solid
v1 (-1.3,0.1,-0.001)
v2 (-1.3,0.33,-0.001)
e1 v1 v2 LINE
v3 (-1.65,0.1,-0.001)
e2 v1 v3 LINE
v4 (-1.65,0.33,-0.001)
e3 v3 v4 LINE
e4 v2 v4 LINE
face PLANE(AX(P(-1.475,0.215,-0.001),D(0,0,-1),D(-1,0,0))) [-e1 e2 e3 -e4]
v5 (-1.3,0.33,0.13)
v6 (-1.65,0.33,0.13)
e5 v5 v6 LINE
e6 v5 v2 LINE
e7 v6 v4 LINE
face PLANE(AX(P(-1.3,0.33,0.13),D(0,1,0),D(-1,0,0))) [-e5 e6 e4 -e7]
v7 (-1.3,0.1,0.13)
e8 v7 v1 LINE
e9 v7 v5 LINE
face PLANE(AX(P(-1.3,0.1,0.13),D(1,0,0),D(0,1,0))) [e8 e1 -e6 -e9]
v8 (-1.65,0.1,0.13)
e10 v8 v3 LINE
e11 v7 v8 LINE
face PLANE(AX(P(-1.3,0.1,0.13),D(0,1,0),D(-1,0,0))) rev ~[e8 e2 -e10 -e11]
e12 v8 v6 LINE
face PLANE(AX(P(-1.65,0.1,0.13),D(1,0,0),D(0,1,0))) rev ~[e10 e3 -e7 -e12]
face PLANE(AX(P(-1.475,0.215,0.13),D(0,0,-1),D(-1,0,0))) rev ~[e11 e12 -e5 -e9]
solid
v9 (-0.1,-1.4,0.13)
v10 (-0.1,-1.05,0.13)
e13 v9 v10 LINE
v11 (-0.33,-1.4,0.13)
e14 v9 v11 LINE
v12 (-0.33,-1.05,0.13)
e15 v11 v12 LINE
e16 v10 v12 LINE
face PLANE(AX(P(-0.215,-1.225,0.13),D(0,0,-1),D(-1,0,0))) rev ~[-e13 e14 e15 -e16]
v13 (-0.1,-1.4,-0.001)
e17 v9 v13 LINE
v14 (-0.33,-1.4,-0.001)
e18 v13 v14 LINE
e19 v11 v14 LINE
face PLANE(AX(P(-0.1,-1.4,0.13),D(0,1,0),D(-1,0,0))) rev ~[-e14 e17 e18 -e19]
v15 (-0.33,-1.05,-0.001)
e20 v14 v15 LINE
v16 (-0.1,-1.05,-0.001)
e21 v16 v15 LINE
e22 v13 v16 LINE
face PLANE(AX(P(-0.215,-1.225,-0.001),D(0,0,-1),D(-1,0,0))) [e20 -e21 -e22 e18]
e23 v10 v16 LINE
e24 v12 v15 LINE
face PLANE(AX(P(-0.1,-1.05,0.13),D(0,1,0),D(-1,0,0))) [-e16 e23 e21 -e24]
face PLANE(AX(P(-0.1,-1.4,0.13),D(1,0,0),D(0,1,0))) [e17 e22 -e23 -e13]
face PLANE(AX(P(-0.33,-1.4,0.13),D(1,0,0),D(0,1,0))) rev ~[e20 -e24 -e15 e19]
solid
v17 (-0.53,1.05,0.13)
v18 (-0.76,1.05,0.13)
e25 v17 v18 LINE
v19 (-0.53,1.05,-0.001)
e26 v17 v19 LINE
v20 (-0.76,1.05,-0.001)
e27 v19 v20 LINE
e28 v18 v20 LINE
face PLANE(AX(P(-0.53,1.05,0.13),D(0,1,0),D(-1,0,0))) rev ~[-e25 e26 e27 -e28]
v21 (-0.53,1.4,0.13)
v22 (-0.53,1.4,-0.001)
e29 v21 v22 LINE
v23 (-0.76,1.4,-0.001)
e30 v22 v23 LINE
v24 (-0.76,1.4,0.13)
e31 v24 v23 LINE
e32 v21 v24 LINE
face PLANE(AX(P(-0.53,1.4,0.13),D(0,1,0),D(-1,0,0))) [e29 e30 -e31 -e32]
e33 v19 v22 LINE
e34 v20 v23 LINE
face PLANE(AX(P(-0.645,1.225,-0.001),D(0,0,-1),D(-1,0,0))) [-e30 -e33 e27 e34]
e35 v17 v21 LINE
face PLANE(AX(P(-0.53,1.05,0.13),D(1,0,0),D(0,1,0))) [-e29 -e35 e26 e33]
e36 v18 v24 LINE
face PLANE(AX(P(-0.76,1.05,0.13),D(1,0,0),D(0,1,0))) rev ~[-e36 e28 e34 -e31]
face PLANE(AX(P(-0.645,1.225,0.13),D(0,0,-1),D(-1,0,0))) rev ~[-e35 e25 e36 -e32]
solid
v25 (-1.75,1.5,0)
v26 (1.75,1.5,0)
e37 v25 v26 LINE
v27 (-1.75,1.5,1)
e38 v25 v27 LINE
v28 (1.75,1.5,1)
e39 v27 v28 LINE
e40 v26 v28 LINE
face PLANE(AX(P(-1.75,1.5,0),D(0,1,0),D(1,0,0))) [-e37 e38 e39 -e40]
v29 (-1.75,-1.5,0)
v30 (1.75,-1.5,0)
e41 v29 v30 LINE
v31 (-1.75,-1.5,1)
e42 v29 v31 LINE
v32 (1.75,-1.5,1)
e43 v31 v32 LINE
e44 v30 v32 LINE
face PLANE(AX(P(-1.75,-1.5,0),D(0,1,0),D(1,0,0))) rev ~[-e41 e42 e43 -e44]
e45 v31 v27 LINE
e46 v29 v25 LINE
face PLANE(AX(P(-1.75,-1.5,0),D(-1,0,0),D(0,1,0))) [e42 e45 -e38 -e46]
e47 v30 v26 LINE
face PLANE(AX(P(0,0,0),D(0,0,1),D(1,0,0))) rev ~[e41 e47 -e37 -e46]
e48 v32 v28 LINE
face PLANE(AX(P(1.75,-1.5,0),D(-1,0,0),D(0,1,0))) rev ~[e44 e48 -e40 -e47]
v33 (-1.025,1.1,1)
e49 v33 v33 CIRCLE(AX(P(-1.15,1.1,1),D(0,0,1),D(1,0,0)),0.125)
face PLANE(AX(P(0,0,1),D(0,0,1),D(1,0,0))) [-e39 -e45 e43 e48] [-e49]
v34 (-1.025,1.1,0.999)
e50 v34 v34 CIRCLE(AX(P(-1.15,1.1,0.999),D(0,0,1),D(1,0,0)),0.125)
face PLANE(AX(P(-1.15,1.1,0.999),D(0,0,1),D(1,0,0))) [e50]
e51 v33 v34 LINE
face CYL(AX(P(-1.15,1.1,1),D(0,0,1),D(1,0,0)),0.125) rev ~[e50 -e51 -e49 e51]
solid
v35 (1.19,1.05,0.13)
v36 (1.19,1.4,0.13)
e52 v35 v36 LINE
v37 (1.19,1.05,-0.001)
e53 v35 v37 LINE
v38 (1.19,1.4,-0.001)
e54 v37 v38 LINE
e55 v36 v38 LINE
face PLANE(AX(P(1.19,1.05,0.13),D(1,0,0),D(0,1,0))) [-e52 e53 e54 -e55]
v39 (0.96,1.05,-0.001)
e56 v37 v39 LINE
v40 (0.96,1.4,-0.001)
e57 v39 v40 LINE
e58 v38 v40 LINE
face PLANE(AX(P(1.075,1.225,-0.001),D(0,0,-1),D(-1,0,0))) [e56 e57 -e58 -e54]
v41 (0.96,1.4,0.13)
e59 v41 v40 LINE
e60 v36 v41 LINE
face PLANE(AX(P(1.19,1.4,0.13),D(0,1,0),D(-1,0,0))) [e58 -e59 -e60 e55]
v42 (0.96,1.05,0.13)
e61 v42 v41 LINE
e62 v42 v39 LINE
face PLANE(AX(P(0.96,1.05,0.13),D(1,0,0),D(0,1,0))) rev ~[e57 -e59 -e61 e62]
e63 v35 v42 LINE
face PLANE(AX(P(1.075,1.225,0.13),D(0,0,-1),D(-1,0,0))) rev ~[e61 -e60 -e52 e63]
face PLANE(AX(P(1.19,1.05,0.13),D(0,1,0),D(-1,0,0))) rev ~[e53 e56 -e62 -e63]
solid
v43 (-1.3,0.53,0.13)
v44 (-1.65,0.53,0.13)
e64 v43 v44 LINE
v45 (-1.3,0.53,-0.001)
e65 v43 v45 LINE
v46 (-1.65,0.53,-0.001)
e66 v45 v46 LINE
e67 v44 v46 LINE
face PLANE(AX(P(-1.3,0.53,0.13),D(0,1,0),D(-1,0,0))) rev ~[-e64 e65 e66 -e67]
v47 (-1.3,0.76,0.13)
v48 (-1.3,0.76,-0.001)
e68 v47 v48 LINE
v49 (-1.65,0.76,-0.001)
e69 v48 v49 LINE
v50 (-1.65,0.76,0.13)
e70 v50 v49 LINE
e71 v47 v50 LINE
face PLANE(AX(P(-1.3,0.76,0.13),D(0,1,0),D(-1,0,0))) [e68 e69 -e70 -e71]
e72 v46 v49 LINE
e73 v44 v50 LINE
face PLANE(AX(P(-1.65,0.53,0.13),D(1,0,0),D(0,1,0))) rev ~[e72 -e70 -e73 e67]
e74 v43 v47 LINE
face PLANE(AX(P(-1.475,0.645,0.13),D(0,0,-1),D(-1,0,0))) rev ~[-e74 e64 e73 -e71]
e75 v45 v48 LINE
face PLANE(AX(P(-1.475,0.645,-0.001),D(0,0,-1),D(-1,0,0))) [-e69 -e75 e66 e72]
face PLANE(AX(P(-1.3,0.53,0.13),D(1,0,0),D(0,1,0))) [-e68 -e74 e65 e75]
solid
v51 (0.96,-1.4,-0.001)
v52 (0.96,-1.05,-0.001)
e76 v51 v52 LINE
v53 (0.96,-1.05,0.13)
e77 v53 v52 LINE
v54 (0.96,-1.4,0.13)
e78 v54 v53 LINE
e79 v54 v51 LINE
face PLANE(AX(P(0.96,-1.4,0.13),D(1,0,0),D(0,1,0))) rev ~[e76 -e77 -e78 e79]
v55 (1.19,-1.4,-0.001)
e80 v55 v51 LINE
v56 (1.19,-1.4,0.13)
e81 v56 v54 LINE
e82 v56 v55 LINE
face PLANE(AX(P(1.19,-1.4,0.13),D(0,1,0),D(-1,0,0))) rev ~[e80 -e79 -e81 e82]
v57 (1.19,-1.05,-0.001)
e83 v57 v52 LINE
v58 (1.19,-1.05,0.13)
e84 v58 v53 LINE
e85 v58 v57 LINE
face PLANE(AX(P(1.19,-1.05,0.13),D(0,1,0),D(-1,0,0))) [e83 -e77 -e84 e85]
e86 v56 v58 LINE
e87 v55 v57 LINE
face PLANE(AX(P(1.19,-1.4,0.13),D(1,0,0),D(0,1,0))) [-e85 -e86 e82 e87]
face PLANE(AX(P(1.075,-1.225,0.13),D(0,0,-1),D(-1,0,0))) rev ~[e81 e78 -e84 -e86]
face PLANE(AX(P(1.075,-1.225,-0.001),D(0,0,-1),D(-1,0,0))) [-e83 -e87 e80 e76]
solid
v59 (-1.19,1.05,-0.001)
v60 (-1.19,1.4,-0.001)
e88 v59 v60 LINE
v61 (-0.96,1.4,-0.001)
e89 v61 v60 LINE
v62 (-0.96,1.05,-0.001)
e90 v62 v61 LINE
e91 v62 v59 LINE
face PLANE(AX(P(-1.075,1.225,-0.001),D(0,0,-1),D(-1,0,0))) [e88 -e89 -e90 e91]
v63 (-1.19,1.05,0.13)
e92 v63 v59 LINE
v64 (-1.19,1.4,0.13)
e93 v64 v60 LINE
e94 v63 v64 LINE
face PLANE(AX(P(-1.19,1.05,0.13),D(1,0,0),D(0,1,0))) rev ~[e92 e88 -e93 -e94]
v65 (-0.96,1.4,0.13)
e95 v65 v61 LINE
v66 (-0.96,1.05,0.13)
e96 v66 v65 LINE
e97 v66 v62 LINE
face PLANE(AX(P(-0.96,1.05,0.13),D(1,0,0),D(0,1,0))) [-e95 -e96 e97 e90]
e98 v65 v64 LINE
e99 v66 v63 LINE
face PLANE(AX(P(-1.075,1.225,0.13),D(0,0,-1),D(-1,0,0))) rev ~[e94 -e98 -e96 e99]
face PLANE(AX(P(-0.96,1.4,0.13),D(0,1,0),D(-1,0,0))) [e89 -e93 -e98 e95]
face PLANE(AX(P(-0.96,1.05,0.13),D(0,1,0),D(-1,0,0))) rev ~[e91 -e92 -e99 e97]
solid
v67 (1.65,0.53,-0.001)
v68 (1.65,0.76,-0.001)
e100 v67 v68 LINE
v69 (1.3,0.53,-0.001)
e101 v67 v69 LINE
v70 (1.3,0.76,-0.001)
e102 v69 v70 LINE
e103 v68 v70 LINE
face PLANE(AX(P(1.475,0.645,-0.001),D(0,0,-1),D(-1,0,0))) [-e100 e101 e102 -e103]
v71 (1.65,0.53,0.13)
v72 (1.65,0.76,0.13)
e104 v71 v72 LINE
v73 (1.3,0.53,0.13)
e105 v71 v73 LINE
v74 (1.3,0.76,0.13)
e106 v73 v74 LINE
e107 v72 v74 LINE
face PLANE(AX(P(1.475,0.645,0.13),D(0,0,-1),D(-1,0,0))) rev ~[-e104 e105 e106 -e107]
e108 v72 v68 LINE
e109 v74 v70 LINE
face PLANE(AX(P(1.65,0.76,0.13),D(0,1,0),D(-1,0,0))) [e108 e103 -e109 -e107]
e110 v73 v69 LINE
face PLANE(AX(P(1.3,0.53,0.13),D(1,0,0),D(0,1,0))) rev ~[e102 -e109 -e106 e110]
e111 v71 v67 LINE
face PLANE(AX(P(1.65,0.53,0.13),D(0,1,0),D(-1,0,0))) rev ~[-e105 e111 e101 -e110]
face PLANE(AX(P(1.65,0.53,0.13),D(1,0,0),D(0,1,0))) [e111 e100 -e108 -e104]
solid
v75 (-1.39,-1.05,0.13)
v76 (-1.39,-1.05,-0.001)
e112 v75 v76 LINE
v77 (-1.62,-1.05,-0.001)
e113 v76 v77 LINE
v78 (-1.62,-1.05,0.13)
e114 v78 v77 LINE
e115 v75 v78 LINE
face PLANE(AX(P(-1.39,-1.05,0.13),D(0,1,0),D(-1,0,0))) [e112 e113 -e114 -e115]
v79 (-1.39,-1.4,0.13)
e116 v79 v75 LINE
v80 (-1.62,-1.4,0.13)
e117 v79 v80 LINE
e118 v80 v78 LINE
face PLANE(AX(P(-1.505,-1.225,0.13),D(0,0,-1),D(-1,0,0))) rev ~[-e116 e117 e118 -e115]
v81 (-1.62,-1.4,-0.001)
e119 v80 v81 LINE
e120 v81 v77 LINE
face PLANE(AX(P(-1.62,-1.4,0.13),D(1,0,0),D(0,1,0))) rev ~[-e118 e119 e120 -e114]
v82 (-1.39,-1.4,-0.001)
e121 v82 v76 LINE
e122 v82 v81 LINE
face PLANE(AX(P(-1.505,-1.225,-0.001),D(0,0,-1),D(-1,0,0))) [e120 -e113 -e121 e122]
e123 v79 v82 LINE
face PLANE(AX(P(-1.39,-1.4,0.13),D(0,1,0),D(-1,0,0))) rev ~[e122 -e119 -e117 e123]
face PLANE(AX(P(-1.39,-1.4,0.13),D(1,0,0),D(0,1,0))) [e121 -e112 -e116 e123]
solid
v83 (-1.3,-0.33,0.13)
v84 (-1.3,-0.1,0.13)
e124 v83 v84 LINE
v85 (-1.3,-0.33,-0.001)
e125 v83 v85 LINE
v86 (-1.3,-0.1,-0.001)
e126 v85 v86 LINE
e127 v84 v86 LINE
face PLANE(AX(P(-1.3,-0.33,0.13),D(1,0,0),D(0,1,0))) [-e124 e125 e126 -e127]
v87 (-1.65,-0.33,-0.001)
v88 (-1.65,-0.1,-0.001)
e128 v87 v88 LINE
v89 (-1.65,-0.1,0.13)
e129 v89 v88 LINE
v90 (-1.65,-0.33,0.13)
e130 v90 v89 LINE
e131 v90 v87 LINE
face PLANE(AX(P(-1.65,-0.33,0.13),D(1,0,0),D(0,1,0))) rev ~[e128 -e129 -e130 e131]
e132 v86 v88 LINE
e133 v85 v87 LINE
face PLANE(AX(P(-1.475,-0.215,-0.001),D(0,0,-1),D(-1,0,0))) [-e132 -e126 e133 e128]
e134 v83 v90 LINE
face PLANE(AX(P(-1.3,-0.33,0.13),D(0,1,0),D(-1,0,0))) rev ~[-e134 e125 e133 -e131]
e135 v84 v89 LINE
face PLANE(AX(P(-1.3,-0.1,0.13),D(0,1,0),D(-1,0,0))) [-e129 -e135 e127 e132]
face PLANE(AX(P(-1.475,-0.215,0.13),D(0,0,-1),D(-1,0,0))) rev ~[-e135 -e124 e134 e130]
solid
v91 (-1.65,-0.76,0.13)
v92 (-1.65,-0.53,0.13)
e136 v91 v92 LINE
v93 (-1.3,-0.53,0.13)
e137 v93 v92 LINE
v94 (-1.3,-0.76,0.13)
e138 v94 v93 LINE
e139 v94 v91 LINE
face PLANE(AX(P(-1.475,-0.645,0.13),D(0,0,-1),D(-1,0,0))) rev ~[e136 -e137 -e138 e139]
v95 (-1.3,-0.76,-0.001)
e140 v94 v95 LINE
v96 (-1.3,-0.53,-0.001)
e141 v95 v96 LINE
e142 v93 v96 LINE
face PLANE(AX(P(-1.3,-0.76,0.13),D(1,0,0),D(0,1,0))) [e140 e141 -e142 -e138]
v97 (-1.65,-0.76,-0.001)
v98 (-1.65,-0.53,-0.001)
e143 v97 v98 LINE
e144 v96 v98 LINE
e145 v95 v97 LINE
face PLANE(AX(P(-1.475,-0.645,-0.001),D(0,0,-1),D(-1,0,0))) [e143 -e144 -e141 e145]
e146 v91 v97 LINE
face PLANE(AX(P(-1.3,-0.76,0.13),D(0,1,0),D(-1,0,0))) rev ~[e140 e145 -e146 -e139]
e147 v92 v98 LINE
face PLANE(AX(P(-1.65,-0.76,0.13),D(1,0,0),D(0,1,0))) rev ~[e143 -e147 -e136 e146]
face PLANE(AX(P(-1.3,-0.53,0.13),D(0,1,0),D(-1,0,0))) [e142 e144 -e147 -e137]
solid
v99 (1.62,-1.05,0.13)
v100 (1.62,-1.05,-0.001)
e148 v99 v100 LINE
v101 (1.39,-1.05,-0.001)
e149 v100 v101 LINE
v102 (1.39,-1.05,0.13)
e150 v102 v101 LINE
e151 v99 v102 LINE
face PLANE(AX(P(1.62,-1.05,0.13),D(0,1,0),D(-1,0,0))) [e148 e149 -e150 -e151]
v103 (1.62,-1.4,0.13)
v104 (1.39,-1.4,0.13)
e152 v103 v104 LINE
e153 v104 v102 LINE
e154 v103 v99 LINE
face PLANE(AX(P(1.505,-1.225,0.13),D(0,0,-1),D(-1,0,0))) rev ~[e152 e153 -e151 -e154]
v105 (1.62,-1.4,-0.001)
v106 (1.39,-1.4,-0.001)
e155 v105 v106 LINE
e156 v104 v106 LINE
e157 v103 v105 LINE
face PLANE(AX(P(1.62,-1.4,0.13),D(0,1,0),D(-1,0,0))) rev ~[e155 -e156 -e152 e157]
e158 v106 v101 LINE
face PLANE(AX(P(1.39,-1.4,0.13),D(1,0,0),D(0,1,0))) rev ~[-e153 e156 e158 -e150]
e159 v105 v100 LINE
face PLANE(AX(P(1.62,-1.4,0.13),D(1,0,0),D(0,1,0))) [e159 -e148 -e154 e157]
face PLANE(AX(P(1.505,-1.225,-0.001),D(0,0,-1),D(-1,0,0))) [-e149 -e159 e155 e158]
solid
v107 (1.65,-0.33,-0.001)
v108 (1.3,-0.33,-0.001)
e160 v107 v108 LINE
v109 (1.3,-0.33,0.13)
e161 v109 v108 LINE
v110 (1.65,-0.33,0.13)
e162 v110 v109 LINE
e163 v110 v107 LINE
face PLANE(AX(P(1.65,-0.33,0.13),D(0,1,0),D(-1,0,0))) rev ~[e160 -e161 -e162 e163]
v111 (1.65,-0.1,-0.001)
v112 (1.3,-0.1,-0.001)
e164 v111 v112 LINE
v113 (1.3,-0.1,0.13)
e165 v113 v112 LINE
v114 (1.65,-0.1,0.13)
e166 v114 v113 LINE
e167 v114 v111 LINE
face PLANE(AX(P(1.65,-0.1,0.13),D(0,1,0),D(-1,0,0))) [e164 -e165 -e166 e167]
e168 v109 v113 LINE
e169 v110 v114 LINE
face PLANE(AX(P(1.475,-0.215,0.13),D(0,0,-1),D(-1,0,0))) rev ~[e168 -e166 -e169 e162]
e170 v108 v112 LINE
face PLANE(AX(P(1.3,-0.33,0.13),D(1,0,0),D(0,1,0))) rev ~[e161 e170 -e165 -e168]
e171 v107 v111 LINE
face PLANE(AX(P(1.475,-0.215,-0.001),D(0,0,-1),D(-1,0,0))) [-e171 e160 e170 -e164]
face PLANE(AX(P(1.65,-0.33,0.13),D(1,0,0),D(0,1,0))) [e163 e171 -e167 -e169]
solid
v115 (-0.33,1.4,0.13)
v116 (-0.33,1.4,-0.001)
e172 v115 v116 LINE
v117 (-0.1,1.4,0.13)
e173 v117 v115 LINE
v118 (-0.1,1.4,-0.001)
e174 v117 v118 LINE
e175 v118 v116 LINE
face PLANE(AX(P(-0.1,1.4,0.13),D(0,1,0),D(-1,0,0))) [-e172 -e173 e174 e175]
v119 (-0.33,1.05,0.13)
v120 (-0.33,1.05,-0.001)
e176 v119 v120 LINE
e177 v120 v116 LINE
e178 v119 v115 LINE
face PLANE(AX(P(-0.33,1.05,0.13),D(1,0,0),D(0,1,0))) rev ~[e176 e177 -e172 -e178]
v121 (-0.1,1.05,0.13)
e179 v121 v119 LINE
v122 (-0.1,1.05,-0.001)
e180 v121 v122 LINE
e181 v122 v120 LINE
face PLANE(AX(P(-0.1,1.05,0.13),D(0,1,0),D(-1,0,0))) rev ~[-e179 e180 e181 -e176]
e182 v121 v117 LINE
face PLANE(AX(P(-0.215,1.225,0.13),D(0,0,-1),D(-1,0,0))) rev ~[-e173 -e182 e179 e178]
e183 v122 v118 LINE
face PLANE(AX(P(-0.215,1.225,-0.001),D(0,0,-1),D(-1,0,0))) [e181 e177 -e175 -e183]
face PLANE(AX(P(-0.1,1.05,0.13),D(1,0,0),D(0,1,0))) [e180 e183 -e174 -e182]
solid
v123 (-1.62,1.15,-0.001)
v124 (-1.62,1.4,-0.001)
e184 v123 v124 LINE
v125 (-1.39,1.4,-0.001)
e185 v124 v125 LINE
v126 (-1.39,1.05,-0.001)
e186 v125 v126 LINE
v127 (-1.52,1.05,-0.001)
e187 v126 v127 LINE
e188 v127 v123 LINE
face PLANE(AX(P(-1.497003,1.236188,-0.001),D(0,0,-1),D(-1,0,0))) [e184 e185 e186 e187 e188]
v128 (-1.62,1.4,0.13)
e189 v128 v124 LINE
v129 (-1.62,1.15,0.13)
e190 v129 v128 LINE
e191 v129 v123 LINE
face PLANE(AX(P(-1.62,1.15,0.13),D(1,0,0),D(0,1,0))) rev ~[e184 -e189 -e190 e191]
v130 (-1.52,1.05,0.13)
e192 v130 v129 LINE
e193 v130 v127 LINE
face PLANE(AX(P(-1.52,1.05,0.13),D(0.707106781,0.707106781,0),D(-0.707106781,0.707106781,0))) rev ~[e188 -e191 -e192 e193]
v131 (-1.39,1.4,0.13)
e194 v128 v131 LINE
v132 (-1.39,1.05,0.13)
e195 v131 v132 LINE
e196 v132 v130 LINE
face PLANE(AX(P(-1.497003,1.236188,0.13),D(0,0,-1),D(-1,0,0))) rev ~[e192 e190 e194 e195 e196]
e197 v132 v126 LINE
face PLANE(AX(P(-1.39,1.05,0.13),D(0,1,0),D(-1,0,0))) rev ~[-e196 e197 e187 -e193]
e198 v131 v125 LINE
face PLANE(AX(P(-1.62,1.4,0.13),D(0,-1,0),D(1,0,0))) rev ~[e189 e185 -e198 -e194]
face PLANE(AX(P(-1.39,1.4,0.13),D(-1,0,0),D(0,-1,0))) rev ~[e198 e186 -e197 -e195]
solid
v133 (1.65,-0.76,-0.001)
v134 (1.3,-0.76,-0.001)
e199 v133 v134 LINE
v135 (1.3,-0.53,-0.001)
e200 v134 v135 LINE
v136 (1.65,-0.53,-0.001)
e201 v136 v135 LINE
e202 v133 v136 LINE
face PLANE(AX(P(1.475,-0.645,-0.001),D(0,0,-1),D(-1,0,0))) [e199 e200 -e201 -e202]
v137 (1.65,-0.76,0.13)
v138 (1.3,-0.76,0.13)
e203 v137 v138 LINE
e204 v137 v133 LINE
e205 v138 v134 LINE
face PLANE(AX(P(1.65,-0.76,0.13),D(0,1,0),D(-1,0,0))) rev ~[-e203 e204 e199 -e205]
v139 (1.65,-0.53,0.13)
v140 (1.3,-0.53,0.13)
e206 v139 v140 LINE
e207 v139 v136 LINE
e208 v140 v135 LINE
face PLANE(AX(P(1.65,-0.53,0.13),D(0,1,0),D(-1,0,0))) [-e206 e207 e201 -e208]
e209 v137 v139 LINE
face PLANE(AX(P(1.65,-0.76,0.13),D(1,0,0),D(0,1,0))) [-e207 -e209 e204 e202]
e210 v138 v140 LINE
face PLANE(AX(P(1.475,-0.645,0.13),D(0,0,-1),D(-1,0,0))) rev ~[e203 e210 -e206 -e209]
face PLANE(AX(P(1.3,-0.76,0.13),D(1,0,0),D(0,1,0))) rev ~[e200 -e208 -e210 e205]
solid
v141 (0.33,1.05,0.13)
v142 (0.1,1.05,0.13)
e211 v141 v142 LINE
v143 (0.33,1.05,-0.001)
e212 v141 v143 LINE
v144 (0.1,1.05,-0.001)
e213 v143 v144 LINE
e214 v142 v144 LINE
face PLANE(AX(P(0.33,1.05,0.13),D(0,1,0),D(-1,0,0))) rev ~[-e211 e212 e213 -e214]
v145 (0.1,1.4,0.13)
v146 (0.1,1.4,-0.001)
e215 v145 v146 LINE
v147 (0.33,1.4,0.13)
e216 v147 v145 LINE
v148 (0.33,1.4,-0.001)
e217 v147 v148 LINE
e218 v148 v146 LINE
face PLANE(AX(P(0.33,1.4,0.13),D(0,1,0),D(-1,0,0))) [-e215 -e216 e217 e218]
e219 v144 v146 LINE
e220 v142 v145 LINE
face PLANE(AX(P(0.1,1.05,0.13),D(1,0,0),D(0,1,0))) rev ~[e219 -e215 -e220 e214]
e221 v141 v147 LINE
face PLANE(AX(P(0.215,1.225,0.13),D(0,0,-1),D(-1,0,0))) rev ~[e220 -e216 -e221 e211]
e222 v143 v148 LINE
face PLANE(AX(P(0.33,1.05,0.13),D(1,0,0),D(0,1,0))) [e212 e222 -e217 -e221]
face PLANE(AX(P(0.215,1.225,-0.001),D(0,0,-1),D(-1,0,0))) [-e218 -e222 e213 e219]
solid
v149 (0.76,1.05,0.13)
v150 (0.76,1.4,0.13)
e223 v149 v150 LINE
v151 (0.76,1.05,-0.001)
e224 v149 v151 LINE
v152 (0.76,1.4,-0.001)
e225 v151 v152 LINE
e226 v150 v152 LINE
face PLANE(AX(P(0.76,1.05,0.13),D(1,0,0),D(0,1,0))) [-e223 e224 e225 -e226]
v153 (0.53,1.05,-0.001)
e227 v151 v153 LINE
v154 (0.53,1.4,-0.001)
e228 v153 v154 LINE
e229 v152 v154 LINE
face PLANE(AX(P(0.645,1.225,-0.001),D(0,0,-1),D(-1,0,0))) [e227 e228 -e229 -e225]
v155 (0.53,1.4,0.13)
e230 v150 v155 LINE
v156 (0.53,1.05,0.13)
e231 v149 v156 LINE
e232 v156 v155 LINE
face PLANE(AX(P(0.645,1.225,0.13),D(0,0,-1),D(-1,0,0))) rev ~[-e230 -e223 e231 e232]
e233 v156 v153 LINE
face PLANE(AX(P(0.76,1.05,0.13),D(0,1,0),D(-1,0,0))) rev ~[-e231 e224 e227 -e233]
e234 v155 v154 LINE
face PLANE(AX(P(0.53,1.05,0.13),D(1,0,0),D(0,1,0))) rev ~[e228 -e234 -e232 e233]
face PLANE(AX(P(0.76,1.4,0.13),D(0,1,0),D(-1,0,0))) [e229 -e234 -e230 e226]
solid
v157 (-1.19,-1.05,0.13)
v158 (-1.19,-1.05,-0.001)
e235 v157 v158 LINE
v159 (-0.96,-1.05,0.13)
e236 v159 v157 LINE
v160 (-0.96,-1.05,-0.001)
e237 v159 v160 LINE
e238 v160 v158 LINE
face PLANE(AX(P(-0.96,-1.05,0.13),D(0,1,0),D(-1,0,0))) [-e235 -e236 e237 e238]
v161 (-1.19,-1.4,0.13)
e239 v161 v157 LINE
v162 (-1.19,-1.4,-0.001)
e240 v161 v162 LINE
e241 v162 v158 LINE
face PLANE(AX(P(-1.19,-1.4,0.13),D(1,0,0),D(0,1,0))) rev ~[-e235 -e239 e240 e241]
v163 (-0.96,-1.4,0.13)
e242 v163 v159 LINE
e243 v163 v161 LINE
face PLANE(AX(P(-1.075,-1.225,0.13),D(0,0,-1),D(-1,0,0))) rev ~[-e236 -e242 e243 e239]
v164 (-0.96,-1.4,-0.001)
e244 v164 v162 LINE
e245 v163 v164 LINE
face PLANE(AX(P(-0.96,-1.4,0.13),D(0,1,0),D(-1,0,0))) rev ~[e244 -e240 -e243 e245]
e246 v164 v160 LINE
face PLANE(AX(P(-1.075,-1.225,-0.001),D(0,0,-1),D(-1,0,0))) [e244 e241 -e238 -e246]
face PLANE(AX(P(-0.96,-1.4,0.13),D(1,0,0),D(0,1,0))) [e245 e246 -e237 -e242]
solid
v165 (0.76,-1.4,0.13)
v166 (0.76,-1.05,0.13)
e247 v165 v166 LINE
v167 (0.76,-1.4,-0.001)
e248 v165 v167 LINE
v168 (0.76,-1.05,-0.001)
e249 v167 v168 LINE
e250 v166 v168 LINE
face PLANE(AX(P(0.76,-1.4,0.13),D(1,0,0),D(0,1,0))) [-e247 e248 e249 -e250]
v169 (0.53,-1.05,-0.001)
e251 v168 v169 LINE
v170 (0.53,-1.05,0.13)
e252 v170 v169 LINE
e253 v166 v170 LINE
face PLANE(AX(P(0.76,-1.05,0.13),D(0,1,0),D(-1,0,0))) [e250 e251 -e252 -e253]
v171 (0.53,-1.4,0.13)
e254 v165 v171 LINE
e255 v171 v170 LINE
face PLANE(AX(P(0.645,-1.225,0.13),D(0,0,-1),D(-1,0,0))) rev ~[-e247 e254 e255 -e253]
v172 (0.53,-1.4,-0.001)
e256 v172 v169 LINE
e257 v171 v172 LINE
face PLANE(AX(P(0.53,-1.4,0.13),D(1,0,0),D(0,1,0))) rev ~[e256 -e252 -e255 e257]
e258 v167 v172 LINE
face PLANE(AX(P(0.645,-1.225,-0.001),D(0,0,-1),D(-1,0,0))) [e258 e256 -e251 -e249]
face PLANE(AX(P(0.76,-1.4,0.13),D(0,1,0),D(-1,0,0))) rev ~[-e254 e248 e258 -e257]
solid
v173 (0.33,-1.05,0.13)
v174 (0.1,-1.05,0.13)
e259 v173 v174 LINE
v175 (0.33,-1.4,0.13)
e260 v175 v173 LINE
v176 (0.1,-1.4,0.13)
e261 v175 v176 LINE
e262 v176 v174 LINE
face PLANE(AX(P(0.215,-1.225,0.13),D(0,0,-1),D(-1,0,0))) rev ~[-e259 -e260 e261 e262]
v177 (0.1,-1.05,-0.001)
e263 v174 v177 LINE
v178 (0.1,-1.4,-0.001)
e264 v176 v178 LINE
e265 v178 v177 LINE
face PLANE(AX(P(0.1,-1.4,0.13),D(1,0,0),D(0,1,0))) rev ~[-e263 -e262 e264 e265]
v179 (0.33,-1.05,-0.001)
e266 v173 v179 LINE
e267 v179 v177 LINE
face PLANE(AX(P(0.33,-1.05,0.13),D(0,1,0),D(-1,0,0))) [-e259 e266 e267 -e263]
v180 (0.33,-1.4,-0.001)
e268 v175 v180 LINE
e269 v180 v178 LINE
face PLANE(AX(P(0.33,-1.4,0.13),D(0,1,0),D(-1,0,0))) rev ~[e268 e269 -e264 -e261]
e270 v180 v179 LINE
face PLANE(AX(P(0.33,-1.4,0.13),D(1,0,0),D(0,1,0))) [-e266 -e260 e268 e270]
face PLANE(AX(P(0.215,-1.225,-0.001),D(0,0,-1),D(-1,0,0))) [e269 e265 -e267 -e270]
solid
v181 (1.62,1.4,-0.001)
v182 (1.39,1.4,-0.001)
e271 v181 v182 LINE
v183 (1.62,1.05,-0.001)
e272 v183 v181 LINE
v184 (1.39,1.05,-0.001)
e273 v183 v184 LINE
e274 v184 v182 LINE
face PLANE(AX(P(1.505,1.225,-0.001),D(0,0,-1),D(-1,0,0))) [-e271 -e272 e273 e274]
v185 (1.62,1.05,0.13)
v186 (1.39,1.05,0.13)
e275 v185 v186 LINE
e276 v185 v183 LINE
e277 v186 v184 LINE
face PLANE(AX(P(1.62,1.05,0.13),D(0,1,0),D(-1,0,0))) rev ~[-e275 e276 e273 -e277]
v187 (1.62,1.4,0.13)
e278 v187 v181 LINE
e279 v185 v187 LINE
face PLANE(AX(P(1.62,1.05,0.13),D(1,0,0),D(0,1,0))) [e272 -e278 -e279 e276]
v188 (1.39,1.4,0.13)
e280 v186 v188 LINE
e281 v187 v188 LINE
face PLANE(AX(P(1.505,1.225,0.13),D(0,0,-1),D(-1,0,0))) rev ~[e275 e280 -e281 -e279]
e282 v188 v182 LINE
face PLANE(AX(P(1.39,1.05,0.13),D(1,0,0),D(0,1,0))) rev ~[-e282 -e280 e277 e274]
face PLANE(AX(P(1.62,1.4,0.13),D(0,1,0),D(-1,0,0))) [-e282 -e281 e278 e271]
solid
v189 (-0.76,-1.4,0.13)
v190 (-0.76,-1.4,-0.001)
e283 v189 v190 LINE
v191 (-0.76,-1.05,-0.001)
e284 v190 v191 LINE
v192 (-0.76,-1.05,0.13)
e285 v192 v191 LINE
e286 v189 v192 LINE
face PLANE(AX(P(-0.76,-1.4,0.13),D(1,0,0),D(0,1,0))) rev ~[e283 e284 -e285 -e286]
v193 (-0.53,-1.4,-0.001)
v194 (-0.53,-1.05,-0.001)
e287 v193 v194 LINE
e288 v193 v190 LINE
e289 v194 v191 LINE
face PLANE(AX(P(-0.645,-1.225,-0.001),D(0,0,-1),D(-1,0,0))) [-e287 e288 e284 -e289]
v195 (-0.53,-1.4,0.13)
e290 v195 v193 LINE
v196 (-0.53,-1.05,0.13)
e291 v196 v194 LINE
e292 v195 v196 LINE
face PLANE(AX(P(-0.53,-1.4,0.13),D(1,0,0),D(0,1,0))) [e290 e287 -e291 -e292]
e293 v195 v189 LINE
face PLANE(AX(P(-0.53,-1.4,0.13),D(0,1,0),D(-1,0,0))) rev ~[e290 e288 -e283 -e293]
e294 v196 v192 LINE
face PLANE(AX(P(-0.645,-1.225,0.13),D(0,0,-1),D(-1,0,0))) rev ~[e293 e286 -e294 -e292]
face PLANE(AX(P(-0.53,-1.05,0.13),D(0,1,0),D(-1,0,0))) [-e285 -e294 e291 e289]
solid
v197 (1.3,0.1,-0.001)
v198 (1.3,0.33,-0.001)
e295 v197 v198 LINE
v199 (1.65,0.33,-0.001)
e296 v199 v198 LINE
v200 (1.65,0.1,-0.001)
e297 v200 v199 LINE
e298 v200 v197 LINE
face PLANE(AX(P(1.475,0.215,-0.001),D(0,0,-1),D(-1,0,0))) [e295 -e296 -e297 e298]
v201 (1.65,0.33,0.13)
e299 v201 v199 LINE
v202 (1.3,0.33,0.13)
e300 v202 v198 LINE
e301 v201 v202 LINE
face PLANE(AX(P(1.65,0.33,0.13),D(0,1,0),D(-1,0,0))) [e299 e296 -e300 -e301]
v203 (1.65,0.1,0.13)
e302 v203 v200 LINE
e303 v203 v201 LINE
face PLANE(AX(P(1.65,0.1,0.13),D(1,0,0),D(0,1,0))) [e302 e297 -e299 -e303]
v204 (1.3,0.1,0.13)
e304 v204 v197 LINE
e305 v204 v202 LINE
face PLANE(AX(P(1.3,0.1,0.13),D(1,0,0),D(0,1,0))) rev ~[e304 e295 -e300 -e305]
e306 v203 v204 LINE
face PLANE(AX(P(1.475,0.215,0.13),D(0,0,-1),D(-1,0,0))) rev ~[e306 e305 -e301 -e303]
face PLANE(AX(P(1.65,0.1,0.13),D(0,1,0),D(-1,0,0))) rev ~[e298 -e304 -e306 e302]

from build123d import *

# Parameters (mm, degrees)
SKETCH1_W                   = 3.5
SKETCH1_H                   = 3
BOSS_EXTRUDE1_DEPTH         = 1
BOSS_EXTRUDE2_DEPTH         = 0.001
BOSS_EXTRUDE2_DEPTH_BACK    = 0.13
SKETCH2_W                   = 0.23
SKETCH2_H                   = 0.35
BOSS_EXTRUDE2_2_DEPTH       = 0.001
BOSS_EXTRUDE2_2_DEPTH_BACK  = 0.13
BOSS_EXTRUDE2_3_DEPTH       = 0.001
BOSS_EXTRUDE2_3_DEPTH_BACK  = 0.13
BOSS_EXTRUDE2_4_DEPTH       = 0.001
BOSS_EXTRUDE2_4_DEPTH_BACK  = 0.13
BOSS_EXTRUDE2_5_DEPTH       = 0.001
BOSS_EXTRUDE2_5_DEPTH_BACK  = 0.13
BOSS_EXTRUDE2_6_DEPTH       = 0.001
BOSS_EXTRUDE2_6_DEPTH_BACK  = 0.13
BOSS_EXTRUDE2_7_DEPTH       = 0.001
BOSS_EXTRUDE2_7_DEPTH_BACK  = 0.13
BOSS_EXTRUDE2_8_DEPTH       = 0.001
BOSS_EXTRUDE2_8_DEPTH_BACK  = 0.13
BOSS_EXTRUDE2_9_DEPTH       = 0.001
BOSS_EXTRUDE2_9_DEPTH_BACK  = 0.13
BOSS_EXTRUDE2_10_DEPTH      = 0.001
BOSS_EXTRUDE2_10_DEPTH_BACK = 0.13
BOSS_EXTRUDE2_11_DEPTH      = 0.001
BOSS_EXTRUDE2_11_DEPTH_BACK = 0.13
BOSS_EXTRUDE2_12_DEPTH      = 0.001
BOSS_EXTRUDE2_12_DEPTH_BACK = 0.13
BOSS_EXTRUDE2_13_DEPTH      = 0.001
BOSS_EXTRUDE2_13_DEPTH_BACK = 0.13
BOSS_EXTRUDE2_14_DEPTH      = 0.001
BOSS_EXTRUDE2_14_DEPTH_BACK = 0.13
BOSS_EXTRUDE2_15_DEPTH      = 0.001
BOSS_EXTRUDE2_15_DEPTH_BACK = 0.13
BOSS_EXTRUDE2_16_DEPTH      = 0.001
BOSS_EXTRUDE2_16_DEPTH_BACK = 0.13
BOSS_EXTRUDE2_17_DEPTH      = 0.001
BOSS_EXTRUDE2_17_DEPTH_BACK = 0.13
SKETCH2_W_2                 = 0.35
SKETCH2_H_2                 = 0.23
BOSS_EXTRUDE2_18_DEPTH      = 0.001
BOSS_EXTRUDE2_18_DEPTH_BACK = 0.13
BOSS_EXTRUDE2_19_DEPTH      = 0.001
BOSS_EXTRUDE2_19_DEPTH_BACK = 0.13
BOSS_EXTRUDE2_20_DEPTH      = 0.001
BOSS_EXTRUDE2_20_DEPTH_BACK = 0.13
BOSS_EXTRUDE2_21_DEPTH      = 0.001
BOSS_EXTRUDE2_21_DEPTH_BACK = 0.13
BOSS_EXTRUDE2_22_DEPTH      = 0.001
BOSS_EXTRUDE2_22_DEPTH_BACK = 0.13
BOSS_EXTRUDE2_23_DEPTH      = 0.001
BOSS_EXTRUDE2_23_DEPTH_BACK = 0.13
BOSS_EXTRUDE2_24_DEPTH      = 0.001
BOSS_EXTRUDE2_24_DEPTH_BACK = 0.13
SKETCH3_R                   = 0.125
CUT_EXTRUDE1_DEPTH          = 0.001


with BuildPart() as part:
    # Sketch1 → Boss-Extrude1 (new body)
    with BuildSketch(Plane.XY):
        Rectangle(SKETCH1_W, SKETCH1_H)
    extrude(amount=BOSS_EXTRUDE1_DEPTH)

    # Sketch3 → Cut-Extrude1 (cut)
    with BuildSketch(Plane.XY.offset(1)):
        with Locations((-1.15, 1.1)):
            Circle(SKETCH3_R)
    extrude(amount=-CUT_EXTRUDE1_DEPTH, mode=Mode.SUBTRACT)


with BuildPart() as body_2:
    # Sketch2 → Boss-Extrude2 (new, two sides: drawn at the far end of the back side and taken through both)
    with BuildSketch(Plane(origin=(0, 0, 0), x_dir=(-1, 0, 0), z_dir=(0, 0, -1)).offset(-BOSS_EXTRUDE2_DEPTH_BACK)):
        with Locations((-0.215, 1.225)):
            Rectangle(SKETCH2_W, SKETCH2_H)
    extrude(amount=BOSS_EXTRUDE2_DEPTH + BOSS_EXTRUDE2_DEPTH_BACK)


with BuildPart() as body_3:
    # Sketch2 → Boss-Extrude2 2 (new, two sides: drawn at the far end of the back side and taken through both)
    with BuildSketch(Plane(origin=(0, 0, 0), x_dir=(-1, 0, 0), z_dir=(0, 0, -1)).offset(-BOSS_EXTRUDE2_2_DEPTH_BACK)):
        with Locations((-0.645, 1.225)):
            Rectangle(SKETCH2_W, SKETCH2_H)
    extrude(amount=BOSS_EXTRUDE2_2_DEPTH + BOSS_EXTRUDE2_2_DEPTH_BACK)


with BuildPart() as body_4:
    # Sketch2 → Boss-Extrude2 3 (new, two sides: drawn at the far end of the back side and taken through both)
    with BuildSketch(Plane(origin=(0, 0, 0), x_dir=(-1, 0, 0), z_dir=(0, 0, -1)).offset(-BOSS_EXTRUDE2_3_DEPTH_BACK)):
        with Locations((-1.075, 1.225)):
            Rectangle(SKETCH2_W, SKETCH2_H)
    extrude(amount=BOSS_EXTRUDE2_3_DEPTH + BOSS_EXTRUDE2_3_DEPTH_BACK)


with BuildPart() as body_5:
    # Sketch2 → Boss-Extrude2 4 (new, two sides: drawn at the far end of the back side and taken through both)
    with BuildSketch(Plane(origin=(0, 0, 0), x_dir=(-1, 0, 0), z_dir=(0, 0, -1)).offset(-BOSS_EXTRUDE2_4_DEPTH_BACK)):
        with Locations((-1.505, 1.225)):
            Rectangle(SKETCH2_W, SKETCH2_H)
    extrude(amount=BOSS_EXTRUDE2_4_DEPTH + BOSS_EXTRUDE2_4_DEPTH_BACK)


with BuildPart() as body_6:
    # Sketch2 → Boss-Extrude2 5 (new, two sides: drawn at the far end of the back side and taken through both)
    with BuildSketch(Plane(origin=(0, 0, 0), x_dir=(-1, 0, 0), z_dir=(0, 0, -1)).offset(-BOSS_EXTRUDE2_5_DEPTH_BACK)):
        with Locations((0.215, 1.225)):
            Rectangle(SKETCH2_W, SKETCH2_H)
    extrude(amount=BOSS_EXTRUDE2_5_DEPTH + BOSS_EXTRUDE2_5_DEPTH_BACK)


with BuildPart() as body_7:
    # Sketch2 → Boss-Extrude2 6 (new, two sides: drawn at the far end of the back side and taken through both)
    with BuildSketch(Plane(origin=(0, 0, 0), x_dir=(-1, 0, 0), z_dir=(0, 0, -1)).offset(-BOSS_EXTRUDE2_6_DEPTH_BACK)):
        with Locations((0.645, 1.225)):
            Rectangle(SKETCH2_W, SKETCH2_H)
    extrude(amount=BOSS_EXTRUDE2_6_DEPTH + BOSS_EXTRUDE2_6_DEPTH_BACK)


with BuildPart() as body_8:
    # Sketch2 → Boss-Extrude2 7 (new, two sides: drawn at the far end of the back side and taken through both)
    with BuildSketch(Plane(origin=(0, 0, 0), x_dir=(-1, 0, 0), z_dir=(0, 0, -1)).offset(-BOSS_EXTRUDE2_7_DEPTH_BACK)):
        with Locations((1.075, 1.225)):
            Rectangle(SKETCH2_W, SKETCH2_H)
    extrude(amount=BOSS_EXTRUDE2_7_DEPTH + BOSS_EXTRUDE2_7_DEPTH_BACK)


with BuildPart() as body_9:
    # Sketch2 → Boss-Extrude2 8 (new, two sides: drawn at the far end of the back side and taken through both)
    with BuildSketch(Plane(origin=(0, 0, 0), x_dir=(-1, 0, 0), z_dir=(0, 0, -1)).offset(-BOSS_EXTRUDE2_8_DEPTH_BACK)):
        Polygon((1.62, 1.4), (1.39, 1.4), (1.39, 1.05), (1.52, 1.05), (1.62, 1.15), align=None)
    extrude(amount=BOSS_EXTRUDE2_8_DEPTH + BOSS_EXTRUDE2_8_DEPTH_BACK)


with BuildPart() as body_10:
    # Sketch2 → Boss-Extrude2 9 (new, two sides: drawn at the far end of the back side and taken through both)
    with BuildSketch(Plane(origin=(0, 0, 0), x_dir=(-1, 0, 0), z_dir=(0, 0, -1)).offset(-BOSS_EXTRUDE2_9_DEPTH_BACK)):
        with Locations((1.505, -1.225)):
            Rectangle(SKETCH2_W, SKETCH2_H)
    extrude(amount=BOSS_EXTRUDE2_9_DEPTH + BOSS_EXTRUDE2_9_DEPTH_BACK)


with BuildPart() as body_11:
    # Sketch2 → Boss-Extrude2 10 (new, two sides: drawn at the far end of the back side and taken through both)
    with BuildSketch(Plane(origin=(0, 0, 0), x_dir=(-1, 0, 0), z_dir=(0, 0, -1)).offset(-BOSS_EXTRUDE2_10_DEPTH_BACK)):
        with Locations((1.075, -1.225)):
            Rectangle(SKETCH2_W, SKETCH2_H)
    extrude(amount=BOSS_EXTRUDE2_10_DEPTH + BOSS_EXTRUDE2_10_DEPTH_BACK)


with BuildPart() as body_12:
    # Sketch2 → Boss-Extrude2 11 (new, two sides: drawn at the far end of the back side and taken through both)
    with BuildSketch(Plane(origin=(0, 0, 0), x_dir=(-1, 0, 0), z_dir=(0, 0, -1)).offset(-BOSS_EXTRUDE2_11_DEPTH_BACK)):
        with Locations((0.645, -1.225)):
            Rectangle(SKETCH2_W, SKETCH2_H)
    extrude(amount=BOSS_EXTRUDE2_11_DEPTH + BOSS_EXTRUDE2_11_DEPTH_BACK)


with BuildPart() as body_13:
    # Sketch2 → Boss-Extrude2 12 (new, two sides: drawn at the far end of the back side and taken through both)
    with BuildSketch(Plane(origin=(0, 0, 0), x_dir=(-1, 0, 0), z_dir=(0, 0, -1)).offset(-BOSS_EXTRUDE2_12_DEPTH_BACK)):
        with Locations((0.215, -1.225)):
            Rectangle(SKETCH2_W, SKETCH2_H)
    extrude(amount=BOSS_EXTRUDE2_12_DEPTH + BOSS_EXTRUDE2_12_DEPTH_BACK)


with BuildPart() as body_14:
    # Sketch2 → Boss-Extrude2 13 (new, two sides: drawn at the far end of the back side and taken through both)
    with BuildSketch(Plane(origin=(0, 0, 0), x_dir=(-1, 0, 0), z_dir=(0, 0, -1)).offset(-BOSS_EXTRUDE2_13_DEPTH_BACK)):
        with Locations((-0.215, -1.225)):
            Rectangle(SKETCH2_W, SKETCH2_H)
    extrude(amount=BOSS_EXTRUDE2_13_DEPTH + BOSS_EXTRUDE2_13_DEPTH_BACK)


with BuildPart() as body_15:
    # Sketch2 → Boss-Extrude2 14 (new, two sides: drawn at the far end of the back side and taken through both)
    with BuildSketch(Plane(origin=(0, 0, 0), x_dir=(-1, 0, 0), z_dir=(0, 0, -1)).offset(-BOSS_EXTRUDE2_14_DEPTH_BACK)):
        with Locations((-0.645, -1.225)):
            Rectangle(SKETCH2_W, SKETCH2_H)
    extrude(amount=BOSS_EXTRUDE2_14_DEPTH + BOSS_EXTRUDE2_14_DEPTH_BACK)


with BuildPart() as body_16:
    # Sketch2 → Boss-Extrude2 15 (new, two sides: drawn at the far end of the back side and taken through both)
    with BuildSketch(Plane(origin=(0, 0, 0), x_dir=(-1, 0, 0), z_dir=(0, 0, -1)).offset(-BOSS_EXTRUDE2_15_DEPTH_BACK)):
        with Locations((-1.075, -1.225)):
            Rectangle(SKETCH2_W, SKETCH2_H)
    extrude(amount=BOSS_EXTRUDE2_15_DEPTH + BOSS_EXTRUDE2_15_DEPTH_BACK)


with BuildPart() as body_17:
    # Sketch2 → Boss-Extrude2 16 (new, two sides: drawn at the far end of the back side and taken through both)
    with BuildSketch(Plane(origin=(0, 0, 0), x_dir=(-1, 0, 0), z_dir=(0, 0, -1)).offset(-BOSS_EXTRUDE2_16_DEPTH_BACK)):
        with Locations((-1.505, -1.225)):
            Rectangle(SKETCH2_W, SKETCH2_H)
    extrude(amount=BOSS_EXTRUDE2_16_DEPTH + BOSS_EXTRUDE2_16_DEPTH_BACK)


with BuildPart() as body_18:
    # Sketch2 → Boss-Extrude2 17 (new, two sides: drawn at the far end of the back side and taken through both)
    with BuildSketch(Plane(origin=(0, 0, 0), x_dir=(-1, 0, 0), z_dir=(0, 0, -1)).offset(-BOSS_EXTRUDE2_17_DEPTH_BACK)):
        with Locations((-1.475, 0.215)):
            Rectangle(SKETCH2_W_2, SKETCH2_H_2)
    extrude(amount=BOSS_EXTRUDE2_17_DEPTH + BOSS_EXTRUDE2_17_DEPTH_BACK)


with BuildPart() as body_19:
    # Sketch2 → Boss-Extrude2 18 (new, two sides: drawn at the far end of the back side and taken through both)
    with BuildSketch(Plane(origin=(0, 0, 0), x_dir=(-1, 0, 0), z_dir=(0, 0, -1)).offset(-BOSS_EXTRUDE2_18_DEPTH_BACK)):
        with Locations((-1.475, 0.645)):
            Rectangle(SKETCH2_W_2, SKETCH2_H_2)
    extrude(amount=BOSS_EXTRUDE2_18_DEPTH + BOSS_EXTRUDE2_18_DEPTH_BACK)


with BuildPart() as body_20:
    # Sketch2 → Boss-Extrude2 19 (new, two sides: drawn at the far end of the back side and taken through both)
    with BuildSketch(Plane(origin=(0, 0, 0), x_dir=(-1, 0, 0), z_dir=(0, 0, -1)).offset(-BOSS_EXTRUDE2_19_DEPTH_BACK)):
        with Locations((-1.475, -0.215)):
            Rectangle(SKETCH2_W_2, SKETCH2_H_2)
    extrude(amount=BOSS_EXTRUDE2_19_DEPTH + BOSS_EXTRUDE2_19_DEPTH_BACK)


with BuildPart() as body_21:
    # Sketch2 → Boss-Extrude2 20 (new, two sides: drawn at the far end of the back side and taken through both)
    with BuildSketch(Plane(origin=(0, 0, 0), x_dir=(-1, 0, 0), z_dir=(0, 0, -1)).offset(-BOSS_EXTRUDE2_20_DEPTH_BACK)):
        with Locations((-1.475, -0.645)):
            Rectangle(SKETCH2_W_2, SKETCH2_H_2)
    extrude(amount=BOSS_EXTRUDE2_20_DEPTH + BOSS_EXTRUDE2_20_DEPTH_BACK)


with BuildPart() as body_22:
    # Sketch2 → Boss-Extrude2 21 (new, two sides: drawn at the far end of the back side and taken through both)
    with BuildSketch(Plane(origin=(0, 0, 0), x_dir=(-1, 0, 0), z_dir=(0, 0, -1)).offset(-BOSS_EXTRUDE2_21_DEPTH_BACK)):
        with Locations((1.475, -0.645)):
            Rectangle(SKETCH2_W_2, SKETCH2_H_2)
    extrude(amount=BOSS_EXTRUDE2_21_DEPTH + BOSS_EXTRUDE2_21_DEPTH_BACK)


with BuildPart() as body_23:
    # Sketch2 → Boss-Extrude2 22 (new, two sides: drawn at the far end of the back side and taken through both)
    with BuildSketch(Plane(origin=(0, 0, 0), x_dir=(-1, 0, 0), z_dir=(0, 0, -1)).offset(-BOSS_EXTRUDE2_22_DEPTH_BACK)):
        with Locations((1.475, -0.215)):
            Rectangle(SKETCH2_W_2, SKETCH2_H_2)
    extrude(amount=BOSS_EXTRUDE2_22_DEPTH + BOSS_EXTRUDE2_22_DEPTH_BACK)


with BuildPart() as body_24:
    # Sketch2 → Boss-Extrude2 23 (new, two sides: drawn at the far end of the back side and taken through both)
    with BuildSketch(Plane(origin=(0, 0, 0), x_dir=(-1, 0, 0), z_dir=(0, 0, -1)).offset(-BOSS_EXTRUDE2_23_DEPTH_BACK)):
        with Locations((1.475, 0.215)):
            Rectangle(SKETCH2_W_2, SKETCH2_H_2)
    extrude(amount=BOSS_EXTRUDE2_23_DEPTH + BOSS_EXTRUDE2_23_DEPTH_BACK)


with BuildPart() as body_25:
    # Sketch2 → Boss-Extrude2 24 (new, two sides: drawn at the far end of the back side and taken through both)
    with BuildSketch(Plane(origin=(0, 0, 0), x_dir=(-1, 0, 0), z_dir=(0, 0, -1)).offset(-BOSS_EXTRUDE2_24_DEPTH_BACK)):
        with Locations((1.475, 0.645)):
            Rectangle(SKETCH2_W_2, SKETCH2_H_2)
    extrude(amount=BOSS_EXTRUDE2_24_DEPTH + BOSS_EXTRUDE2_24_DEPTH_BACK)


solid = Compound([part.part, body_2.part, body_3.part, body_4.part, body_5.part, body_6.part, body_7.part, body_8.part, body_9.part, body_10.part, body_11.part, body_12.part, body_13.part, body_14.part, body_15.part, body_16.part, body_17.part, body_18.part, body_19.part, body_20.part, body_21.part, body_22.part, body_23.part, body_24.part, body_25.part])
